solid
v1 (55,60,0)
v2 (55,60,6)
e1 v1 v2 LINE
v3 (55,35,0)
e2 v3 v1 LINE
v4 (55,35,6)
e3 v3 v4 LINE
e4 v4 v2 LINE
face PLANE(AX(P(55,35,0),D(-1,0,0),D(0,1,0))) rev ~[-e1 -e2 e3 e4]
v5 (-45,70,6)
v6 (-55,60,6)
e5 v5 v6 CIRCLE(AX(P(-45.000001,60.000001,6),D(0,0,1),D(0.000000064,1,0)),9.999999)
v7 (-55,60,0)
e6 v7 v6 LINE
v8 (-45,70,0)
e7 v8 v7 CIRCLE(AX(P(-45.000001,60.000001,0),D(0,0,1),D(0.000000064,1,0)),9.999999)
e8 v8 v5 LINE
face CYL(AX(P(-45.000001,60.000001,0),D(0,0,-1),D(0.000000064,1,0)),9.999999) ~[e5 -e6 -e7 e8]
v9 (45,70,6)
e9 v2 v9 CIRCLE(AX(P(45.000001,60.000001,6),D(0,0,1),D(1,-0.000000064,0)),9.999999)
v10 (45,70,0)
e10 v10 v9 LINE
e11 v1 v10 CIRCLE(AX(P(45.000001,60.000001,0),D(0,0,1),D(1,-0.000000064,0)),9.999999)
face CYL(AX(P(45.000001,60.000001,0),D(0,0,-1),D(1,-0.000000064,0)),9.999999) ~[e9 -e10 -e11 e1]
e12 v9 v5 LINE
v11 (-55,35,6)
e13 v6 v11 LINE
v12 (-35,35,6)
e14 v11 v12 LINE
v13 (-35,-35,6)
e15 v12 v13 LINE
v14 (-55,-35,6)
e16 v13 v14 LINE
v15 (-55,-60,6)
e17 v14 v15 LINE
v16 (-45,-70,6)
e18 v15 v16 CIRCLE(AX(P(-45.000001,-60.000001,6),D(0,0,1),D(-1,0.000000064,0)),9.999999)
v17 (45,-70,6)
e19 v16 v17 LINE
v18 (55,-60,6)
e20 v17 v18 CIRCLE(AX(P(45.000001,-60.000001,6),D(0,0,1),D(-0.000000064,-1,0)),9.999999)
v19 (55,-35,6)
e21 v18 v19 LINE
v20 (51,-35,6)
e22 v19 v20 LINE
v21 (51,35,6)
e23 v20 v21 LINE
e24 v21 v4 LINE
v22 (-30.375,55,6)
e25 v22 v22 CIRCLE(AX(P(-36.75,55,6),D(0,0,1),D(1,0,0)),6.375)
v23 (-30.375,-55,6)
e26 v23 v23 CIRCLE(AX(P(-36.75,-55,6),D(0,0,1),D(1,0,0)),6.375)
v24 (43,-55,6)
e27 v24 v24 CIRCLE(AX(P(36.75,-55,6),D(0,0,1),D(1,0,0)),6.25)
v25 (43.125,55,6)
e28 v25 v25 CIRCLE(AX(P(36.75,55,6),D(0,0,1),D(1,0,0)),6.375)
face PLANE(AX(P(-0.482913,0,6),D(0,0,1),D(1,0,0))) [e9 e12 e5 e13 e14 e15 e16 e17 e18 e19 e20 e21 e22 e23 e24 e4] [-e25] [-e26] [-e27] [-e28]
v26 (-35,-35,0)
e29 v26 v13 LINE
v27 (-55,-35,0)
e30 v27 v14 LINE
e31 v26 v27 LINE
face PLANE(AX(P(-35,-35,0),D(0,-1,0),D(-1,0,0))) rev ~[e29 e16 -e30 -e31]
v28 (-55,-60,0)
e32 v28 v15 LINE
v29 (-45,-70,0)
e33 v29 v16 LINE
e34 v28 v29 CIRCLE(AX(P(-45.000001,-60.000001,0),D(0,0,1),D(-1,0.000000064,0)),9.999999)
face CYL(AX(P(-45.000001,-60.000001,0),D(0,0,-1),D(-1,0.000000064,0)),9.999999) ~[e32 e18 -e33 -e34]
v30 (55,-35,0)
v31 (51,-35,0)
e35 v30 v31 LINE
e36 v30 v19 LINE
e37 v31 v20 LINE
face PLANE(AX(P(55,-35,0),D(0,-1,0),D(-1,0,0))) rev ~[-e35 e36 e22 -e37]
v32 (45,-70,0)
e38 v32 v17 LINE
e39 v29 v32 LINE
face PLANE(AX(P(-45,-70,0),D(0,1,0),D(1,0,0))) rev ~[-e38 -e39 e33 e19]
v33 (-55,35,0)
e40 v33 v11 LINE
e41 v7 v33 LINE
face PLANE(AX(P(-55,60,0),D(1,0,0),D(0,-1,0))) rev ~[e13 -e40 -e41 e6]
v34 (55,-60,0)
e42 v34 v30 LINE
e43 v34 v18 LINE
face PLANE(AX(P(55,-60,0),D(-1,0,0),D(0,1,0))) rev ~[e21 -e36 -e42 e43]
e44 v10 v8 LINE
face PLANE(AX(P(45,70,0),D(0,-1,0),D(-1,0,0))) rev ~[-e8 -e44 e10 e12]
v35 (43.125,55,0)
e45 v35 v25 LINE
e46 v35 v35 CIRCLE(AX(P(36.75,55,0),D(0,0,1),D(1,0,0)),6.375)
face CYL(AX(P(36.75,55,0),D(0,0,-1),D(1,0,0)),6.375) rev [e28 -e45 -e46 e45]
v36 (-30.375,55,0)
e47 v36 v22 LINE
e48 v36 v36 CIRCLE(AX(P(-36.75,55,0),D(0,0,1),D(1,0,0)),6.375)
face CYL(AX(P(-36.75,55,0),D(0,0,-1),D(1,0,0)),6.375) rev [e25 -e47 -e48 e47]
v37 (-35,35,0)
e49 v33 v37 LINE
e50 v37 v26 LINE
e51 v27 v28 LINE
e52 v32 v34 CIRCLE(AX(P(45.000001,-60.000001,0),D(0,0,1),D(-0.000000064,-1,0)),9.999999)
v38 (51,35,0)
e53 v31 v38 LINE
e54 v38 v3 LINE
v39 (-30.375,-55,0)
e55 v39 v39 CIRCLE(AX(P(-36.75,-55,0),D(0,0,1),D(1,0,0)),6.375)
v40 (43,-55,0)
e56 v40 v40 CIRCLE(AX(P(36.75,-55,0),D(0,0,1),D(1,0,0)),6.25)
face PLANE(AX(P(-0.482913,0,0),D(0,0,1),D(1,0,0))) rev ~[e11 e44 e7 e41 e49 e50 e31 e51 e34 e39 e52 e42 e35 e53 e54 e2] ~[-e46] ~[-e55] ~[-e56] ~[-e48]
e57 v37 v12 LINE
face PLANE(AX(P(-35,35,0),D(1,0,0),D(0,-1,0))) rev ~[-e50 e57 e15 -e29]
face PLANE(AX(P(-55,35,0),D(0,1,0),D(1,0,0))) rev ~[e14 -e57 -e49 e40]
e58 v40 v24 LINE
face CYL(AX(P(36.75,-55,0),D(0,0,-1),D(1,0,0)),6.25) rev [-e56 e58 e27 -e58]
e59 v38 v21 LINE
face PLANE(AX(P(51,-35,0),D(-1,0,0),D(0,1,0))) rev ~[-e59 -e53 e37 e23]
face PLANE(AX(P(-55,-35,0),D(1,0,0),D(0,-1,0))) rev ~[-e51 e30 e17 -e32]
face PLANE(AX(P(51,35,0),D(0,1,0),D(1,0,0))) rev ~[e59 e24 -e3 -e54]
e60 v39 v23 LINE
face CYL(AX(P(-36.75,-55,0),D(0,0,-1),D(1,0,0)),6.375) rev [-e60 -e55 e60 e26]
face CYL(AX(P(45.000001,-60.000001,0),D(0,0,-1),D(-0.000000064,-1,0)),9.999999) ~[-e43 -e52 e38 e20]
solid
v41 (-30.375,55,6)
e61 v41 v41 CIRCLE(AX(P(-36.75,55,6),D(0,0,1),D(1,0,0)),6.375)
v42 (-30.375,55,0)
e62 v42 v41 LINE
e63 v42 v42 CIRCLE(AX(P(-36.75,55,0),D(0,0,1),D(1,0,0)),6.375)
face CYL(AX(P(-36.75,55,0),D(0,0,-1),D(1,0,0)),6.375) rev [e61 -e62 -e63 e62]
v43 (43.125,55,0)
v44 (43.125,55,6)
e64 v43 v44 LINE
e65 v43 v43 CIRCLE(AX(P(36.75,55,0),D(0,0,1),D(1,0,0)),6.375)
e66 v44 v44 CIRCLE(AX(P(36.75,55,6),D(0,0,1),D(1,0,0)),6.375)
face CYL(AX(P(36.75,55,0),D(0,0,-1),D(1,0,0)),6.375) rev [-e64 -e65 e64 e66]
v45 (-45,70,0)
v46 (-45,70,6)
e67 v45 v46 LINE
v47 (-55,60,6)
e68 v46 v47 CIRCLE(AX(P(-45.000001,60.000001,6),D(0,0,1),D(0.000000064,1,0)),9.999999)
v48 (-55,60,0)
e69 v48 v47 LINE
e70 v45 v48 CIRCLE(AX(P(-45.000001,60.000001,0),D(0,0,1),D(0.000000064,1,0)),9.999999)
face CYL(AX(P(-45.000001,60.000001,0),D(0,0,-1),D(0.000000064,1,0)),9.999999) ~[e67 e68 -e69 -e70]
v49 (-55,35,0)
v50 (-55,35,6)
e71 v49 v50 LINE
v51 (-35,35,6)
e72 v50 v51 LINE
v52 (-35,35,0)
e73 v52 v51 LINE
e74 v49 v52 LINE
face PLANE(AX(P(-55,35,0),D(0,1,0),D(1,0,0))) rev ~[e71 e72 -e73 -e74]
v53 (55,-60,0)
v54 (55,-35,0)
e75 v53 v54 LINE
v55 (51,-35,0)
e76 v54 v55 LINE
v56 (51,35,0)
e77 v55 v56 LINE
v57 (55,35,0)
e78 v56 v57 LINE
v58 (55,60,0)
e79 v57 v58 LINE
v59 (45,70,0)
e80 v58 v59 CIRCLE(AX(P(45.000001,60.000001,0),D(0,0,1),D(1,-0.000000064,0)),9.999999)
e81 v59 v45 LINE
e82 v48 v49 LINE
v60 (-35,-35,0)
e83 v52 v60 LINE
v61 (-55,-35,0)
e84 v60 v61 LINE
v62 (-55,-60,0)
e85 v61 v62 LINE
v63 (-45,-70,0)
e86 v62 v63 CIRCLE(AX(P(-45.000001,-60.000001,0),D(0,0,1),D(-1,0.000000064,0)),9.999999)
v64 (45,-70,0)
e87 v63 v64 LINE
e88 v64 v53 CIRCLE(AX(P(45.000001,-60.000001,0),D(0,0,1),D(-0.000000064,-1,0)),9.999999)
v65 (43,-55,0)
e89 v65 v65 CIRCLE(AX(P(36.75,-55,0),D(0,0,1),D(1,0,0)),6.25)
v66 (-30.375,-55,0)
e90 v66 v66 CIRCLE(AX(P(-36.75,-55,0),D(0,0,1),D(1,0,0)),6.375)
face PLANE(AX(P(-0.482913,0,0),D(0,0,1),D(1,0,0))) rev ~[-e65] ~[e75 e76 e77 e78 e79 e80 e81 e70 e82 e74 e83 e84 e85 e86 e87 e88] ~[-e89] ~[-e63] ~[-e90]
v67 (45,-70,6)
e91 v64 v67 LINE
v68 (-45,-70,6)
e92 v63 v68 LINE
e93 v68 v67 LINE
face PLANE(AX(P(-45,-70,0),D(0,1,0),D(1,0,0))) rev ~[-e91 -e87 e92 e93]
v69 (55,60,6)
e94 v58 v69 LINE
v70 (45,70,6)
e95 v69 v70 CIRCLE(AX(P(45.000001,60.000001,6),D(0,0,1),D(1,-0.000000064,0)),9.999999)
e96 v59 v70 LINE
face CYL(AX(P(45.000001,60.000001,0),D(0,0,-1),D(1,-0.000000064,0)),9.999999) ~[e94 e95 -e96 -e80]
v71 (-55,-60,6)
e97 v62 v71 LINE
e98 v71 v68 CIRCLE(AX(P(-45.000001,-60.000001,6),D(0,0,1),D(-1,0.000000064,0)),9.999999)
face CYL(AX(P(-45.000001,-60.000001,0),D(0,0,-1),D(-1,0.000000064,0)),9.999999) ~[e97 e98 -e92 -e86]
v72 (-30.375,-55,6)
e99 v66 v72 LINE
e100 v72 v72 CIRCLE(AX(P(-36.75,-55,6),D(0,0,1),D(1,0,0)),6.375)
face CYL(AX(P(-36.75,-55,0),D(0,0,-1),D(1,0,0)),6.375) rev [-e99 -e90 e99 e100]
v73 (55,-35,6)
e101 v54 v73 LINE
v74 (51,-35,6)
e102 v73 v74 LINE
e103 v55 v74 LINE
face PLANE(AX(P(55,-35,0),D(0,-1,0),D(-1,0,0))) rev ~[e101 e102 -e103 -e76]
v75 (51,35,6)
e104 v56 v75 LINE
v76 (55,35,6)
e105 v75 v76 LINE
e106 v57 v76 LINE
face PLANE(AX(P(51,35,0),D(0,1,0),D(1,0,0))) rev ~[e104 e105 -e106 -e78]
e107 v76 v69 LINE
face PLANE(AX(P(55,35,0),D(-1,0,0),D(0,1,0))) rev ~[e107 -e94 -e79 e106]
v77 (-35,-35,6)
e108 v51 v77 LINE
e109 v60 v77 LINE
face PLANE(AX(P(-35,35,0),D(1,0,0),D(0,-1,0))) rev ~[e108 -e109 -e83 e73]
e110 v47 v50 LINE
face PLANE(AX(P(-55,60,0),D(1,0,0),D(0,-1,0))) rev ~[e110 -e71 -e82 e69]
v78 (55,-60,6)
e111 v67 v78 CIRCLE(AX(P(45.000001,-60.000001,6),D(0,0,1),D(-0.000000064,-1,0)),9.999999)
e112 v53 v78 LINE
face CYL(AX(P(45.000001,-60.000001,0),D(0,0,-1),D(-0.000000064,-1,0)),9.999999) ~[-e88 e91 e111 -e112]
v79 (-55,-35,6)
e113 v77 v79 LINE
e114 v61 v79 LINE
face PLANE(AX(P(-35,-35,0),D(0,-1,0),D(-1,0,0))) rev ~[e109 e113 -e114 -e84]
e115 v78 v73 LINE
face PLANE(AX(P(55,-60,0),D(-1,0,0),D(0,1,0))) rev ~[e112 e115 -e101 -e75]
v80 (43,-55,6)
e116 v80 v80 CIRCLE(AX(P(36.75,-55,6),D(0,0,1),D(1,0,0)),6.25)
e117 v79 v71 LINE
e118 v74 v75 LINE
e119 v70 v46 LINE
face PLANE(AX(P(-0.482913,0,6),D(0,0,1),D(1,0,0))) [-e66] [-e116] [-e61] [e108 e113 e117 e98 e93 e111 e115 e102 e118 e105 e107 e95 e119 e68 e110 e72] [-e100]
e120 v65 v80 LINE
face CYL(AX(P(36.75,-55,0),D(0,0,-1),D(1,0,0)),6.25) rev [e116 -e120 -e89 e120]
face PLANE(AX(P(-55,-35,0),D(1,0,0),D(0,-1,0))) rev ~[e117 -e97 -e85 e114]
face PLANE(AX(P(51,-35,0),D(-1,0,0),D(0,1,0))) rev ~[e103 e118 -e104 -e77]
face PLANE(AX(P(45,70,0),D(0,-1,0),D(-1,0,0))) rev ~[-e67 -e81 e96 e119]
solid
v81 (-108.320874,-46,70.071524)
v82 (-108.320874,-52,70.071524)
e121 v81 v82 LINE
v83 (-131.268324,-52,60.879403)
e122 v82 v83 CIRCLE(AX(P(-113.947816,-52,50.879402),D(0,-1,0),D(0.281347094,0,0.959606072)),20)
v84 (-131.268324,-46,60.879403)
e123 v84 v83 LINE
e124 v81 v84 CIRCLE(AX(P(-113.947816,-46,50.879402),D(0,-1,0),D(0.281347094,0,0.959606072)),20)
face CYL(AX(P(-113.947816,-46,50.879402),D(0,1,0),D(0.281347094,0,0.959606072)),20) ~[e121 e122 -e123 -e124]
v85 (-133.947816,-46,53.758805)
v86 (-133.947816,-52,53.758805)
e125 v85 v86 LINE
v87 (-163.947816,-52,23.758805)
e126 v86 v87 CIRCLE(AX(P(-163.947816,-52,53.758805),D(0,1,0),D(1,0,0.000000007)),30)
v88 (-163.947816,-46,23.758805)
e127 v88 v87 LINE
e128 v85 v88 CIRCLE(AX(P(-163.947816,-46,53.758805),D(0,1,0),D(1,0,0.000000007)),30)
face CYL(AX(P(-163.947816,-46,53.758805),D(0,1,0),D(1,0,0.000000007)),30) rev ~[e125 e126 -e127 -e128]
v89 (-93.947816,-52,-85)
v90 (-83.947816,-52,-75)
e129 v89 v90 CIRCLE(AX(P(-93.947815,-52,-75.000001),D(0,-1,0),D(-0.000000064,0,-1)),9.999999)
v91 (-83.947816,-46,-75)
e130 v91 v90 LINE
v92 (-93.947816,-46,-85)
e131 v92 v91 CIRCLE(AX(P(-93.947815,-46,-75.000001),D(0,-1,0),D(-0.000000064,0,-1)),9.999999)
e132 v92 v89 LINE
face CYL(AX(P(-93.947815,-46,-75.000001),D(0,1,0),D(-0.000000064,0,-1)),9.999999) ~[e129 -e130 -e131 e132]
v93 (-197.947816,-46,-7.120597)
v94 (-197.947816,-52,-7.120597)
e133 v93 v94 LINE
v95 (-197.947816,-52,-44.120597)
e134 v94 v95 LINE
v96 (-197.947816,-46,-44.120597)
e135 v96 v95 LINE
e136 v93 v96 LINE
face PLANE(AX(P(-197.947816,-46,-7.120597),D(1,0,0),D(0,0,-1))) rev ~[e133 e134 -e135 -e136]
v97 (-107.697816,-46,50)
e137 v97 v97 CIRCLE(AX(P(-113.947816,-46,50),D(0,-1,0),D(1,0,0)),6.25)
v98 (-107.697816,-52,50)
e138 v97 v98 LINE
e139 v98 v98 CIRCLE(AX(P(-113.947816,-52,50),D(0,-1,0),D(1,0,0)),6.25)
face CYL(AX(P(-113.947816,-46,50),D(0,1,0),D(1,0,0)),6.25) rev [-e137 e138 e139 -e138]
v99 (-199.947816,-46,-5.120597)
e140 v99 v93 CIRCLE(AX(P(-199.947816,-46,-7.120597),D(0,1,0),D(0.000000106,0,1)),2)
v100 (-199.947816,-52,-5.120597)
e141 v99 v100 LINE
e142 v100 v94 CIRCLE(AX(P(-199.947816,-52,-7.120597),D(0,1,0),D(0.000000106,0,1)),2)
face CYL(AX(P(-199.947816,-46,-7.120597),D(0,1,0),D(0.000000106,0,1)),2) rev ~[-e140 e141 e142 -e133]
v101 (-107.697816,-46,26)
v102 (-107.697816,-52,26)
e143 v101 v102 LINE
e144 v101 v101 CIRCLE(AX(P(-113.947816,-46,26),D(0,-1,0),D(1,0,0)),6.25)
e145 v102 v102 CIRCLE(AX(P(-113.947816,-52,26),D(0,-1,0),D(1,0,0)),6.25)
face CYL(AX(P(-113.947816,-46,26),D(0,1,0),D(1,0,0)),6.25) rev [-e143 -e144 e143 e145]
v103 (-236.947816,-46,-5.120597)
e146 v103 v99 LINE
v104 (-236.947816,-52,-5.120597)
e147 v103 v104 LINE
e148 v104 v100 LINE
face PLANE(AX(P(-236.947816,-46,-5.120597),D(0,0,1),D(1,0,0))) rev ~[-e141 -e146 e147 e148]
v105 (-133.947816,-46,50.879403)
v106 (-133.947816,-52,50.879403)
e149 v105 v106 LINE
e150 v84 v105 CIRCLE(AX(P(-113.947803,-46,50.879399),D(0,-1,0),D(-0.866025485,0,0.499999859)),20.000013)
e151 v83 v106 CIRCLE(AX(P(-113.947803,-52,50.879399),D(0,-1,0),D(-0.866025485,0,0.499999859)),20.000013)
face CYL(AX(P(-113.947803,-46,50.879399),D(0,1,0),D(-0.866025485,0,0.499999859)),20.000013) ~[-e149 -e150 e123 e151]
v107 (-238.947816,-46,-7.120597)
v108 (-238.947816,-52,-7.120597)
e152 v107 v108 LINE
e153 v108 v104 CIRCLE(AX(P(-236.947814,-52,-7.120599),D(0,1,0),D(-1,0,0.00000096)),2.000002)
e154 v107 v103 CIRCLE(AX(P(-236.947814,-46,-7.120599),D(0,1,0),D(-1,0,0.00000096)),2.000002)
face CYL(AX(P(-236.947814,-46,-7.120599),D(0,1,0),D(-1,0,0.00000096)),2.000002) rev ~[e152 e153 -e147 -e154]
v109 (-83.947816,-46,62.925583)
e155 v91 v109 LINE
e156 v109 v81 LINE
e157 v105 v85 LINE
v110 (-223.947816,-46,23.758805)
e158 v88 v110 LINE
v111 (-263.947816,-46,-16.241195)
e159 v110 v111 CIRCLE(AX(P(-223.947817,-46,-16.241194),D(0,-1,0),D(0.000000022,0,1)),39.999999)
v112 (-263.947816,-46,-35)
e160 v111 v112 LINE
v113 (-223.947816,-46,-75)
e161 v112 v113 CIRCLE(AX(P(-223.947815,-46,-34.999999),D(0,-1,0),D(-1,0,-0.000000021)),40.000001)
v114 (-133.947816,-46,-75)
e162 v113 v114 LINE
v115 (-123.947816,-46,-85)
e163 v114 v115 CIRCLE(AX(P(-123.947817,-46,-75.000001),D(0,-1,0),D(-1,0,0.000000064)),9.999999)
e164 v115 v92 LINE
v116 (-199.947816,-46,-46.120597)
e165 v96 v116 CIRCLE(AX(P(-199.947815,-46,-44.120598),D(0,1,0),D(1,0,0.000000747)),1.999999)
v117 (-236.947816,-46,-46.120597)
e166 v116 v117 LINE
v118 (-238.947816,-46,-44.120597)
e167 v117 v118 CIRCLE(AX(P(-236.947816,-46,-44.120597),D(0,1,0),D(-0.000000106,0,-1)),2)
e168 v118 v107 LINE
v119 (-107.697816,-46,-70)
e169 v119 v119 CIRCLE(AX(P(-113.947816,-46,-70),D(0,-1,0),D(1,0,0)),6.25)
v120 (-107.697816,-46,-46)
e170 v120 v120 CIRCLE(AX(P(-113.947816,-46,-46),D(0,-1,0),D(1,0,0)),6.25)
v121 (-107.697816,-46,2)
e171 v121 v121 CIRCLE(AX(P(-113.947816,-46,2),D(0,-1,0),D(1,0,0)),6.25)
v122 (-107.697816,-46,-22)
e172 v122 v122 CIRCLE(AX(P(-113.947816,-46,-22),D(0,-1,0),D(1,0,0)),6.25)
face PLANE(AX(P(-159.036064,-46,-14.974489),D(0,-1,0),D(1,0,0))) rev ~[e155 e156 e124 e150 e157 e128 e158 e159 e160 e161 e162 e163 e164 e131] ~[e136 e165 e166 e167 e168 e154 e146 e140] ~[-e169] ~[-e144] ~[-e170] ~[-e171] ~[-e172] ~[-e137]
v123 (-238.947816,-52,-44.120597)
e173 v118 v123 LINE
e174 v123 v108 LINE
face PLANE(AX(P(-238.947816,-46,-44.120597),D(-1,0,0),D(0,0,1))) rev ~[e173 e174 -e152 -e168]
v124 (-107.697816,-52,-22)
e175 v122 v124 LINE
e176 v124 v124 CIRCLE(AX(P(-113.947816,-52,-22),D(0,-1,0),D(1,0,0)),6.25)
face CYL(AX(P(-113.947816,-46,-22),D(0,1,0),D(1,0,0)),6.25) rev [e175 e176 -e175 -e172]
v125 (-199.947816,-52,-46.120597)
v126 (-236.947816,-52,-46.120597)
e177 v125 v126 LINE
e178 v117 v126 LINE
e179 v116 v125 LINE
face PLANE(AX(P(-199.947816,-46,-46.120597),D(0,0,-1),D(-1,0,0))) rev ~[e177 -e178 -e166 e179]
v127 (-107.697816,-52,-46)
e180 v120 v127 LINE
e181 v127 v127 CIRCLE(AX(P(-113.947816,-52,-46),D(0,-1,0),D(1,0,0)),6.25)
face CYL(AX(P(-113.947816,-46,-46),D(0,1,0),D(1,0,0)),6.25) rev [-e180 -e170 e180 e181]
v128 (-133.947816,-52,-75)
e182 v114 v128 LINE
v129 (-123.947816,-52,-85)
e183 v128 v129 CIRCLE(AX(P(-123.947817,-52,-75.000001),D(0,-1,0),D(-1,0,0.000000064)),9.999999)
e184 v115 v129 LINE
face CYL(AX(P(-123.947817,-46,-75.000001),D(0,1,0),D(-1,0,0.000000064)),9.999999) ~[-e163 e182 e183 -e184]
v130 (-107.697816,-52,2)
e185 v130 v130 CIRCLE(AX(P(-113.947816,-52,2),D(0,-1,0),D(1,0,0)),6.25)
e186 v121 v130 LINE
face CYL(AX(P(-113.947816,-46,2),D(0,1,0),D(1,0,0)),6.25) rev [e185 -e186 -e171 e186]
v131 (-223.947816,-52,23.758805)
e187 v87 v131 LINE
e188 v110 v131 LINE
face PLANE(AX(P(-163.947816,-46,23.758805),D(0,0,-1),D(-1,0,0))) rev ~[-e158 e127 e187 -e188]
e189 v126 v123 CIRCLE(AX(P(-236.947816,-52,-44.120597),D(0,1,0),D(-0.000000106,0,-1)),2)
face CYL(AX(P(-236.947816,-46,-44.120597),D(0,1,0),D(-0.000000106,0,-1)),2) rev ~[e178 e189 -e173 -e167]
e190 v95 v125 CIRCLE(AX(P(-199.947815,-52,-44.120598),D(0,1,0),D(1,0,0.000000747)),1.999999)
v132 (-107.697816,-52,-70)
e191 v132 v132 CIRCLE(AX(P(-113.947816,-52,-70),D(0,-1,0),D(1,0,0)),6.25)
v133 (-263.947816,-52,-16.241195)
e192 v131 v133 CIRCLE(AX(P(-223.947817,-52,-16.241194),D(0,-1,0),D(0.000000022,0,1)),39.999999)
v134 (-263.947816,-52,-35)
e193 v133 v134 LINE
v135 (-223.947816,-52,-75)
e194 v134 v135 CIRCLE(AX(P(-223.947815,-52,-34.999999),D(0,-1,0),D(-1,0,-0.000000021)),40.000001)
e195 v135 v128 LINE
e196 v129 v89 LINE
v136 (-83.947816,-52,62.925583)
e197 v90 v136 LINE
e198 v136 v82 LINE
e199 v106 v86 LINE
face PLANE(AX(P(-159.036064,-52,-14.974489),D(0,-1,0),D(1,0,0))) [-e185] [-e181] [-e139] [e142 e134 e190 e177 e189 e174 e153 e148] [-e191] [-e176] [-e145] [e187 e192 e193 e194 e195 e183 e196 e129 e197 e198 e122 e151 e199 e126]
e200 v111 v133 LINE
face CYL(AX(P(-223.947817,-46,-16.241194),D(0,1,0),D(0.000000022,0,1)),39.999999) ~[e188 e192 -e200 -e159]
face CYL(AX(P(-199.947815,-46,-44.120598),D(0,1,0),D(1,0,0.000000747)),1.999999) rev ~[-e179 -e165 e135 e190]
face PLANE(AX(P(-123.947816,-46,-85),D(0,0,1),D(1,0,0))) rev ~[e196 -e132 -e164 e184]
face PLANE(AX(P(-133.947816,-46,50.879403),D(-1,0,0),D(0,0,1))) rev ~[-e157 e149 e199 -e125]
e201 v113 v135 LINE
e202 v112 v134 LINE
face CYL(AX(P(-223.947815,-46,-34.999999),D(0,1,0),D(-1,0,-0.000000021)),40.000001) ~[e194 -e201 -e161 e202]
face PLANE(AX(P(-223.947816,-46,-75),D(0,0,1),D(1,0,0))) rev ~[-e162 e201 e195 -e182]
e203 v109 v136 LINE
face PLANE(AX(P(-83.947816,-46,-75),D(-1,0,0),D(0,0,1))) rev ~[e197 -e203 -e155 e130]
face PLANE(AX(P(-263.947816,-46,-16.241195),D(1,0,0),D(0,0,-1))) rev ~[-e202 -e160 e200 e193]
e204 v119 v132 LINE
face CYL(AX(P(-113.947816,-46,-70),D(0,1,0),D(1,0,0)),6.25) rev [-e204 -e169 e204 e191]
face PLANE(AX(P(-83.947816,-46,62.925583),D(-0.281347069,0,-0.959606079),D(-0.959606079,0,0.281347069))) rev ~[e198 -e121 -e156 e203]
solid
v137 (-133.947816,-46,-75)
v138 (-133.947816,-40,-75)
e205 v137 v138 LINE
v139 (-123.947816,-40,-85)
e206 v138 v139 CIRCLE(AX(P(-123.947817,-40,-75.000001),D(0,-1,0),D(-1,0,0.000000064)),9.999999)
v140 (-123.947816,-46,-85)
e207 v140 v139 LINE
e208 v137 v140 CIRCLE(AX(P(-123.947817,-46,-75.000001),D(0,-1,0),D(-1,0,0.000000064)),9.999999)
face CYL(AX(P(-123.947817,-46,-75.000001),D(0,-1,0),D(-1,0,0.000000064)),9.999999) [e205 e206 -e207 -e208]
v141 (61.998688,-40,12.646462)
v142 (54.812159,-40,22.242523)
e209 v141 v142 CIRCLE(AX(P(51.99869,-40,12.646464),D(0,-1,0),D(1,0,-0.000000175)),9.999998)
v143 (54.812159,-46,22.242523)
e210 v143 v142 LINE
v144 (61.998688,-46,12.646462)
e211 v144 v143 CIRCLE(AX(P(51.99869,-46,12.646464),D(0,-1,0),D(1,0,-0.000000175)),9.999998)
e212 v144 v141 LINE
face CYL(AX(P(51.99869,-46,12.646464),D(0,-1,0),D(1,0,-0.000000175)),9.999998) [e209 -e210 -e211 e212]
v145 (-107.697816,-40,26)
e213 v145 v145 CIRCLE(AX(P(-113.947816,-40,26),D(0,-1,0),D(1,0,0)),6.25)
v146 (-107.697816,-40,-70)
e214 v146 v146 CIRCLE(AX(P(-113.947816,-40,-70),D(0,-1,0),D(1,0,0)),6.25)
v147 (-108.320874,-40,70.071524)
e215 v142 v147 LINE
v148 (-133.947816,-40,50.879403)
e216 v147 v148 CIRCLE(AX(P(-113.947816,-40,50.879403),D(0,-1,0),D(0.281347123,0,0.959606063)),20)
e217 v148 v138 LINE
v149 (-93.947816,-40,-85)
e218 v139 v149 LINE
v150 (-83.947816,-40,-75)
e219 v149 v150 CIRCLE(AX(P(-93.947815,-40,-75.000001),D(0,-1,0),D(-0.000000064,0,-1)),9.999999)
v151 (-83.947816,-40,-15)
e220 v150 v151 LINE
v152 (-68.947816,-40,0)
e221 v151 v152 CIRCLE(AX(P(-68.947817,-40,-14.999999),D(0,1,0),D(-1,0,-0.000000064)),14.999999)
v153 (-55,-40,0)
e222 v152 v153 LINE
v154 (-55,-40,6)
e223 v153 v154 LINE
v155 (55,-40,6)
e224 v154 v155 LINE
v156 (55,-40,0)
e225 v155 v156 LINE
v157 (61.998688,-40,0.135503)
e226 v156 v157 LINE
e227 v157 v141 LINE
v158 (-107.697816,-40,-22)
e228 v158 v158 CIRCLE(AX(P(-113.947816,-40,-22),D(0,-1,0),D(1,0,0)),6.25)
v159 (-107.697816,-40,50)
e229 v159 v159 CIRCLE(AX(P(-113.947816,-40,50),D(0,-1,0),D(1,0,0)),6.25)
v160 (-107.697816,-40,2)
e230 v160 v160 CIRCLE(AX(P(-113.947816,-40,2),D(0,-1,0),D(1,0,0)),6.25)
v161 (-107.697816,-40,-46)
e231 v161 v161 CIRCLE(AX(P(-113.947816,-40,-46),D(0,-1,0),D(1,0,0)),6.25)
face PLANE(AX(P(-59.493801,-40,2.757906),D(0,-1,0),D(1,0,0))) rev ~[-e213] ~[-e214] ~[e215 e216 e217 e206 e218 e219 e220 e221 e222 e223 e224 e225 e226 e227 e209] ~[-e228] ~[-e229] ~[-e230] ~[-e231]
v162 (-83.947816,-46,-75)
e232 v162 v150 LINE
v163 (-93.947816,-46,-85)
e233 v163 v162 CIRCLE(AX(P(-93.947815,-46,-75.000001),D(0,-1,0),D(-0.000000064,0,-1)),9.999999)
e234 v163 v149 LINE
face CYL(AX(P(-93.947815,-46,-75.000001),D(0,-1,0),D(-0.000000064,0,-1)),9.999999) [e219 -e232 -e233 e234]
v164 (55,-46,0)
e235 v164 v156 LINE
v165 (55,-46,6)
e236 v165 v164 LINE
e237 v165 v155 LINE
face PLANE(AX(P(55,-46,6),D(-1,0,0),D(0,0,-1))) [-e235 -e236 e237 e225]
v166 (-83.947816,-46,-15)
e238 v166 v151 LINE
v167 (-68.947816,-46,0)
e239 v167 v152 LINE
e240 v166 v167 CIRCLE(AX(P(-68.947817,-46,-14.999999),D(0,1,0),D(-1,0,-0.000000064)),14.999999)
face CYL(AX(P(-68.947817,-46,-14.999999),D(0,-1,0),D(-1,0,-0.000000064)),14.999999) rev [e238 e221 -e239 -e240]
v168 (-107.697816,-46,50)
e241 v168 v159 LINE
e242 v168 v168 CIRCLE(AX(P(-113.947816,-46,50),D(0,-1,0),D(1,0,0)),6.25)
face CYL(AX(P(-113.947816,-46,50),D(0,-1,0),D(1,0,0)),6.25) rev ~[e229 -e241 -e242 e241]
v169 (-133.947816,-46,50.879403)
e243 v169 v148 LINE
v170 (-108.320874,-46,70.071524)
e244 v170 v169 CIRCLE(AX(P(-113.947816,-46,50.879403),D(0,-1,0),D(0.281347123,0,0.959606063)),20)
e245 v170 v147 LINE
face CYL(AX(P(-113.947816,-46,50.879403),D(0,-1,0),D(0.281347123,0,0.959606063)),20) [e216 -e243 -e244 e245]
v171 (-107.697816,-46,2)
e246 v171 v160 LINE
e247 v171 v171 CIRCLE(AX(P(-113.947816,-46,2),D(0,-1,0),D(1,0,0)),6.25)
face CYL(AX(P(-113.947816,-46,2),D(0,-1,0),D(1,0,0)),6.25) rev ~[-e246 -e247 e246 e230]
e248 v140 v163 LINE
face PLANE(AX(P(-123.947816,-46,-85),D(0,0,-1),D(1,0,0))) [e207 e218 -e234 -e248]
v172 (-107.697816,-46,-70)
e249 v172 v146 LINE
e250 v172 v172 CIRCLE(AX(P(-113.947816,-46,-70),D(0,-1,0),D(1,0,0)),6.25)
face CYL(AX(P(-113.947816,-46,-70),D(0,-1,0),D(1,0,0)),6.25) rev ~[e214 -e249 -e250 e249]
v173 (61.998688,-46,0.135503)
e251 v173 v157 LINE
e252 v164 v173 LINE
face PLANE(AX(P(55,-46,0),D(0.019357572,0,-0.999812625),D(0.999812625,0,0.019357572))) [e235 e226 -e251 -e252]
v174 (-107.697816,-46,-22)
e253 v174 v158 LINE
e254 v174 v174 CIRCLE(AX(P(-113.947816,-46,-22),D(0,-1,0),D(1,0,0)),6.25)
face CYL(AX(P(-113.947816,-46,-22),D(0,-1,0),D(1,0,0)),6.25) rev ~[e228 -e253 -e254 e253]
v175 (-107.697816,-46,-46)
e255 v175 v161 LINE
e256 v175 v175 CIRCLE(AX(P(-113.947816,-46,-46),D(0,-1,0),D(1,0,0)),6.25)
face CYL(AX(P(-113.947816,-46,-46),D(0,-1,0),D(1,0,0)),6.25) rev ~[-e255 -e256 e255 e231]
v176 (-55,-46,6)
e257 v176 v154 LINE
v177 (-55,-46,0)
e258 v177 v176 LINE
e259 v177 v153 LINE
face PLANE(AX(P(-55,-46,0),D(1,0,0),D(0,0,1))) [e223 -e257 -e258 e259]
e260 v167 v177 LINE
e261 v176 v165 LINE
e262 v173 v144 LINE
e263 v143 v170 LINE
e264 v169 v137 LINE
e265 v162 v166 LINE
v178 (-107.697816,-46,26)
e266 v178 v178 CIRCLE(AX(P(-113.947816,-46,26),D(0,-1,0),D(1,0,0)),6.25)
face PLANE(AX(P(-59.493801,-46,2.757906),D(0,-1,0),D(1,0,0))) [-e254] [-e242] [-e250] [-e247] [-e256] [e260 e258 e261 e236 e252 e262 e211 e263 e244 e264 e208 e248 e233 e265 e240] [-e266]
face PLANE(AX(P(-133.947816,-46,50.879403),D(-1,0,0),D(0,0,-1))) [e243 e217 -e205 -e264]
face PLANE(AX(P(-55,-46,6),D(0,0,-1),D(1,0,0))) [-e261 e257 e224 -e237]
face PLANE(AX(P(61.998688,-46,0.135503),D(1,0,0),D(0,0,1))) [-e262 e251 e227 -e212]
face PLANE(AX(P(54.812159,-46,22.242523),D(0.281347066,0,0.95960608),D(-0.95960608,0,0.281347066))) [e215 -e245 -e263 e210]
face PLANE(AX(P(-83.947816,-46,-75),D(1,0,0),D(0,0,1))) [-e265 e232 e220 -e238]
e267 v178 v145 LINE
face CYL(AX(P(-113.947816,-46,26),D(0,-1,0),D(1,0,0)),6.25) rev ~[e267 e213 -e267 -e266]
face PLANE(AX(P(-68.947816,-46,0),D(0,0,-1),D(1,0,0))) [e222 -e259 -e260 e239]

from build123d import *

# Parameters (mm, degrees)
F0_R     = 6.375
F0_R_2   = 6.25
F1_DEPTH = 6
F3_R     = 6.25
F4_DEPTH = 6
F5_DEPTH = 6
F6_R     = 6.25
F7_DEPTH = 6


with BuildPart() as f1:
    # F0 (on Top) → F1 (new body)
    with BuildSketch(Plane.XY):
        with BuildLine():
            ThreePointArc((55, 60), (52.071068, 67.071068), (45, 70))
            Line((45, 70), (-45, 70))
            ThreePointArc((-45, 70), (-52.071068, 67.071068), (-55, 60))
            Line((-55, 60), (-55, 35))
            Line((-55, 35), (-35, 35))
            Line((-35, 35), (-35, 0))
            Line((-35, 0), (-35, -35))
            Line((-35, -35), (-55, -35))
            Line((-55, -35), (-55, -60))
            ThreePointArc((-55, -60), (-52.071068, -67.071068), (-45, -70))
            Line((-45, -70), (45, -70))
            ThreePointArc((45, -70), (52.071068, -67.071068), (55, -60))
            Line((55, -60), (55, -35))
            Line((55, -35), (51, -35))
            Line((51, -35), (51, 35))
            Line((51, 35), (55, 35))
            Line((55, 35), (55, 60))
        make_face()
        with Locations((-36.75, -55)):
            Circle(F0_R, mode=Mode.SUBTRACT)
        with Locations((36.75, -55)):
            Circle(F0_R_2, mode=Mode.SUBTRACT)
        with Locations((-36.75, 55)):
            Circle(F0_R, mode=Mode.SUBTRACT)
        with Locations((36.75, 55)):
            Circle(F0_R, mode=Mode.SUBTRACT)
    extrude(amount=F1_DEPTH)


with BuildPart() as f4:
    # F3 (on offset) → F4 (new body)
    with BuildSketch(Plane.XZ.offset(46)):
        with BuildLine():
            Line((-55, 0), (-55, 6))
            Line((-55, 6), (55, 6))
            Line((55, 6), (55, 0))
            Line((55, 0), (61.998688, 0.135503))
            Line((61.998688, 0.135503), (61.998688, 12.646462))
            ThreePointArc((61.998688, 12.646462), (60.002897, 18.640847), (54.812159, 22.242523))
            Line((54.812159, 22.242523), (-108.320874, 70.071524))
            ThreePointArc((-108.320874, 70.071524), (-125.936585, 66.88782), (-133.947816, 50.879403))
            Line((-133.947816, 50.879403), (-133.947816, -75))
            ThreePointArc((-133.947816, -75), (-131.018884, -82.071068), (-123.947816, -85))
            Line((-123.947816, -85), (-93.947816, -85))
            ThreePointArc((-93.947816, -85), (-86.876748, -82.071068), (-83.947816, -75))
            Line((-83.947816, -75), (-83.947816, -15))
            ThreePointArc((-83.947816, -15), (-79.554418, -4.393398), (-68.947816, 0))
            Line((-68.947816, 0), (-55, 0))
        make_face()
        with Locations((-113.947816, -70)):
            Circle(F3_R, mode=Mode.SUBTRACT)
        with Locations((-113.947816, -46)):
            Circle(F3_R, mode=Mode.SUBTRACT)
        with Locations((-113.947816, -22)):
            Circle(F3_R, mode=Mode.SUBTRACT)
        with Locations((-113.947816, 2)):
            Circle(F3_R, mode=Mode.SUBTRACT)
        with Locations((-113.947816, 26)):
            Circle(F3_R, mode=Mode.SUBTRACT)
        with Locations((-113.947816, 50)):
            Circle(F3_R, mode=Mode.SUBTRACT)
    extrude(amount=-F4_DEPTH)


with BuildPart() as f5:
    # F0 (on Top) → F5 (new body)
    with BuildSketch(Plane.XY):
        with BuildLine():
            ThreePointArc((55, 60), (52.071068, 67.071068), (45, 70))
            Line((45, 70), (-45, 70))
            ThreePointArc((-45, 70), (-52.071068, 67.071068), (-55, 60))
            Line((-55, 60), (-55, 35))
            Line((-55, 35), (-35, 35))
            Line((-35, 35), (-35, 0))
            Line((-35, 0), (-35, -35))
            Line((-35, -35), (-55, -35))
            Line((-55, -35), (-55, -60))
            ThreePointArc((-55, -60), (-52.071068, -67.071068), (-45, -70))
            Line((-45, -70), (45, -70))
            ThreePointArc((45, -70), (52.071068, -67.071068), (55, -60))
            Line((55, -60), (55, -35))
            Line((55, -35), (51, -35))
            Line((51, -35), (51, 35))
            Line((51, 35), (55, 35))
            Line((55, 35), (55, 60))
        make_face()
        with Locations((-36.75, -55)):
            Circle(F0_R, mode=Mode.SUBTRACT)
        with Locations((36.75, -55)):
            Circle(F0_R_2, mode=Mode.SUBTRACT)
        with Locations((-36.75, 55)):
            Circle(F0_R, mode=Mode.SUBTRACT)
        with Locations((36.75, 55)):
            Circle(F0_R, mode=Mode.SUBTRACT)
    extrude(amount=F5_DEPTH)


with BuildPart() as f7:
    # F6 (on face) → F7 (new body)
    with BuildSketch(Plane.XZ.offset(46)):
        with BuildLine():
            Line((-83.947816, -75), (-83.947816, -15))
            Line((-83.947816, -15), (-83.947816, 62.925583))
            Line((-83.947816, 62.925583), (-108.320874, 70.071524))
            ThreePointArc((-108.320874, 70.071524), (-121.384794, 69.445268), (-131.268324, 60.879403))
            ThreePointArc((-131.268324, 60.879403), (-133.266332, 56.055784), (-133.947816, 50.879403))
            Line((-133.947816, 50.879403), (-133.947816, 53.758805))
            ThreePointArc((-133.947816, 53.758805), (-142.734612, 32.545602), (-163.947816, 23.758805))
            Line((-163.947816, 23.758805), (-223.947816, 23.758805))
            ThreePointArc((-223.947816, 23.758805), (-252.232087, 12.043077), (-263.947816, -16.241195))
            Line((-263.947816, -16.241195), (-263.947816, -35))
            ThreePointArc((-263.947816, -35), (-252.232087, -63.284271), (-223.947816, -75))
            Line((-223.947816, -75), (-133.947816, -75))
            ThreePointArc((-133.947816, -75), (-131.018884, -82.071068), (-123.947816, -85))
            Line((-123.947816, -85), (-93.947816, -85))
            ThreePointArc((-93.947816, -85), (-86.876748, -82.071068), (-83.947816, -75))
        make_face()
        with BuildLine():
            Line((-236.947816, -5.120597), (-199.947816, -5.120597))
            ThreePointArc((-199.947816, -5.120597), (-198.533602, -5.706384), (-197.947816, -7.120597))
            Line((-197.947816, -7.120597), (-197.947816, -44.120597))
            ThreePointArc((-197.947816, -44.120597), (-198.533602, -45.534811), (-199.947816, -46.120597))
            Line((-199.947816, -46.120597), (-236.947816, -46.120597))
            ThreePointArc((-236.947816, -46.120597), (-238.362029, -45.534811), (-238.947816, -44.120597))
            Line((-238.947816, -44.120597), (-238.947816, -7.120597))
            ThreePointArc((-238.947816, -7.120597), (-238.362029, -5.706384), (-236.947816, -5.120597))
        make_face(mode=Mode.SUBTRACT)
        with Locations((-113.947816, -70)):
            Circle(F6_R, mode=Mode.SUBTRACT)
        with Locations((-113.947816, -46)):
            Circle(F6_R, mode=Mode.SUBTRACT)
        with Locations((-113.947816, -22)):
            Circle(F6_R, mode=Mode.SUBTRACT)
        with Locations((-113.947816, 2)):
            Circle(F6_R, mode=Mode.SUBTRACT)
        with Locations((-113.947816, 26)):
            Circle(F6_R, mode=Mode.SUBTRACT)
        with Locations((-113.947816, 50)):
            Circle(F6_R, mode=Mode.SUBTRACT)
    extrude(amount=F7_DEPTH)


solid = Compound([f1.part, f4.part, f5.part, f7.part])
